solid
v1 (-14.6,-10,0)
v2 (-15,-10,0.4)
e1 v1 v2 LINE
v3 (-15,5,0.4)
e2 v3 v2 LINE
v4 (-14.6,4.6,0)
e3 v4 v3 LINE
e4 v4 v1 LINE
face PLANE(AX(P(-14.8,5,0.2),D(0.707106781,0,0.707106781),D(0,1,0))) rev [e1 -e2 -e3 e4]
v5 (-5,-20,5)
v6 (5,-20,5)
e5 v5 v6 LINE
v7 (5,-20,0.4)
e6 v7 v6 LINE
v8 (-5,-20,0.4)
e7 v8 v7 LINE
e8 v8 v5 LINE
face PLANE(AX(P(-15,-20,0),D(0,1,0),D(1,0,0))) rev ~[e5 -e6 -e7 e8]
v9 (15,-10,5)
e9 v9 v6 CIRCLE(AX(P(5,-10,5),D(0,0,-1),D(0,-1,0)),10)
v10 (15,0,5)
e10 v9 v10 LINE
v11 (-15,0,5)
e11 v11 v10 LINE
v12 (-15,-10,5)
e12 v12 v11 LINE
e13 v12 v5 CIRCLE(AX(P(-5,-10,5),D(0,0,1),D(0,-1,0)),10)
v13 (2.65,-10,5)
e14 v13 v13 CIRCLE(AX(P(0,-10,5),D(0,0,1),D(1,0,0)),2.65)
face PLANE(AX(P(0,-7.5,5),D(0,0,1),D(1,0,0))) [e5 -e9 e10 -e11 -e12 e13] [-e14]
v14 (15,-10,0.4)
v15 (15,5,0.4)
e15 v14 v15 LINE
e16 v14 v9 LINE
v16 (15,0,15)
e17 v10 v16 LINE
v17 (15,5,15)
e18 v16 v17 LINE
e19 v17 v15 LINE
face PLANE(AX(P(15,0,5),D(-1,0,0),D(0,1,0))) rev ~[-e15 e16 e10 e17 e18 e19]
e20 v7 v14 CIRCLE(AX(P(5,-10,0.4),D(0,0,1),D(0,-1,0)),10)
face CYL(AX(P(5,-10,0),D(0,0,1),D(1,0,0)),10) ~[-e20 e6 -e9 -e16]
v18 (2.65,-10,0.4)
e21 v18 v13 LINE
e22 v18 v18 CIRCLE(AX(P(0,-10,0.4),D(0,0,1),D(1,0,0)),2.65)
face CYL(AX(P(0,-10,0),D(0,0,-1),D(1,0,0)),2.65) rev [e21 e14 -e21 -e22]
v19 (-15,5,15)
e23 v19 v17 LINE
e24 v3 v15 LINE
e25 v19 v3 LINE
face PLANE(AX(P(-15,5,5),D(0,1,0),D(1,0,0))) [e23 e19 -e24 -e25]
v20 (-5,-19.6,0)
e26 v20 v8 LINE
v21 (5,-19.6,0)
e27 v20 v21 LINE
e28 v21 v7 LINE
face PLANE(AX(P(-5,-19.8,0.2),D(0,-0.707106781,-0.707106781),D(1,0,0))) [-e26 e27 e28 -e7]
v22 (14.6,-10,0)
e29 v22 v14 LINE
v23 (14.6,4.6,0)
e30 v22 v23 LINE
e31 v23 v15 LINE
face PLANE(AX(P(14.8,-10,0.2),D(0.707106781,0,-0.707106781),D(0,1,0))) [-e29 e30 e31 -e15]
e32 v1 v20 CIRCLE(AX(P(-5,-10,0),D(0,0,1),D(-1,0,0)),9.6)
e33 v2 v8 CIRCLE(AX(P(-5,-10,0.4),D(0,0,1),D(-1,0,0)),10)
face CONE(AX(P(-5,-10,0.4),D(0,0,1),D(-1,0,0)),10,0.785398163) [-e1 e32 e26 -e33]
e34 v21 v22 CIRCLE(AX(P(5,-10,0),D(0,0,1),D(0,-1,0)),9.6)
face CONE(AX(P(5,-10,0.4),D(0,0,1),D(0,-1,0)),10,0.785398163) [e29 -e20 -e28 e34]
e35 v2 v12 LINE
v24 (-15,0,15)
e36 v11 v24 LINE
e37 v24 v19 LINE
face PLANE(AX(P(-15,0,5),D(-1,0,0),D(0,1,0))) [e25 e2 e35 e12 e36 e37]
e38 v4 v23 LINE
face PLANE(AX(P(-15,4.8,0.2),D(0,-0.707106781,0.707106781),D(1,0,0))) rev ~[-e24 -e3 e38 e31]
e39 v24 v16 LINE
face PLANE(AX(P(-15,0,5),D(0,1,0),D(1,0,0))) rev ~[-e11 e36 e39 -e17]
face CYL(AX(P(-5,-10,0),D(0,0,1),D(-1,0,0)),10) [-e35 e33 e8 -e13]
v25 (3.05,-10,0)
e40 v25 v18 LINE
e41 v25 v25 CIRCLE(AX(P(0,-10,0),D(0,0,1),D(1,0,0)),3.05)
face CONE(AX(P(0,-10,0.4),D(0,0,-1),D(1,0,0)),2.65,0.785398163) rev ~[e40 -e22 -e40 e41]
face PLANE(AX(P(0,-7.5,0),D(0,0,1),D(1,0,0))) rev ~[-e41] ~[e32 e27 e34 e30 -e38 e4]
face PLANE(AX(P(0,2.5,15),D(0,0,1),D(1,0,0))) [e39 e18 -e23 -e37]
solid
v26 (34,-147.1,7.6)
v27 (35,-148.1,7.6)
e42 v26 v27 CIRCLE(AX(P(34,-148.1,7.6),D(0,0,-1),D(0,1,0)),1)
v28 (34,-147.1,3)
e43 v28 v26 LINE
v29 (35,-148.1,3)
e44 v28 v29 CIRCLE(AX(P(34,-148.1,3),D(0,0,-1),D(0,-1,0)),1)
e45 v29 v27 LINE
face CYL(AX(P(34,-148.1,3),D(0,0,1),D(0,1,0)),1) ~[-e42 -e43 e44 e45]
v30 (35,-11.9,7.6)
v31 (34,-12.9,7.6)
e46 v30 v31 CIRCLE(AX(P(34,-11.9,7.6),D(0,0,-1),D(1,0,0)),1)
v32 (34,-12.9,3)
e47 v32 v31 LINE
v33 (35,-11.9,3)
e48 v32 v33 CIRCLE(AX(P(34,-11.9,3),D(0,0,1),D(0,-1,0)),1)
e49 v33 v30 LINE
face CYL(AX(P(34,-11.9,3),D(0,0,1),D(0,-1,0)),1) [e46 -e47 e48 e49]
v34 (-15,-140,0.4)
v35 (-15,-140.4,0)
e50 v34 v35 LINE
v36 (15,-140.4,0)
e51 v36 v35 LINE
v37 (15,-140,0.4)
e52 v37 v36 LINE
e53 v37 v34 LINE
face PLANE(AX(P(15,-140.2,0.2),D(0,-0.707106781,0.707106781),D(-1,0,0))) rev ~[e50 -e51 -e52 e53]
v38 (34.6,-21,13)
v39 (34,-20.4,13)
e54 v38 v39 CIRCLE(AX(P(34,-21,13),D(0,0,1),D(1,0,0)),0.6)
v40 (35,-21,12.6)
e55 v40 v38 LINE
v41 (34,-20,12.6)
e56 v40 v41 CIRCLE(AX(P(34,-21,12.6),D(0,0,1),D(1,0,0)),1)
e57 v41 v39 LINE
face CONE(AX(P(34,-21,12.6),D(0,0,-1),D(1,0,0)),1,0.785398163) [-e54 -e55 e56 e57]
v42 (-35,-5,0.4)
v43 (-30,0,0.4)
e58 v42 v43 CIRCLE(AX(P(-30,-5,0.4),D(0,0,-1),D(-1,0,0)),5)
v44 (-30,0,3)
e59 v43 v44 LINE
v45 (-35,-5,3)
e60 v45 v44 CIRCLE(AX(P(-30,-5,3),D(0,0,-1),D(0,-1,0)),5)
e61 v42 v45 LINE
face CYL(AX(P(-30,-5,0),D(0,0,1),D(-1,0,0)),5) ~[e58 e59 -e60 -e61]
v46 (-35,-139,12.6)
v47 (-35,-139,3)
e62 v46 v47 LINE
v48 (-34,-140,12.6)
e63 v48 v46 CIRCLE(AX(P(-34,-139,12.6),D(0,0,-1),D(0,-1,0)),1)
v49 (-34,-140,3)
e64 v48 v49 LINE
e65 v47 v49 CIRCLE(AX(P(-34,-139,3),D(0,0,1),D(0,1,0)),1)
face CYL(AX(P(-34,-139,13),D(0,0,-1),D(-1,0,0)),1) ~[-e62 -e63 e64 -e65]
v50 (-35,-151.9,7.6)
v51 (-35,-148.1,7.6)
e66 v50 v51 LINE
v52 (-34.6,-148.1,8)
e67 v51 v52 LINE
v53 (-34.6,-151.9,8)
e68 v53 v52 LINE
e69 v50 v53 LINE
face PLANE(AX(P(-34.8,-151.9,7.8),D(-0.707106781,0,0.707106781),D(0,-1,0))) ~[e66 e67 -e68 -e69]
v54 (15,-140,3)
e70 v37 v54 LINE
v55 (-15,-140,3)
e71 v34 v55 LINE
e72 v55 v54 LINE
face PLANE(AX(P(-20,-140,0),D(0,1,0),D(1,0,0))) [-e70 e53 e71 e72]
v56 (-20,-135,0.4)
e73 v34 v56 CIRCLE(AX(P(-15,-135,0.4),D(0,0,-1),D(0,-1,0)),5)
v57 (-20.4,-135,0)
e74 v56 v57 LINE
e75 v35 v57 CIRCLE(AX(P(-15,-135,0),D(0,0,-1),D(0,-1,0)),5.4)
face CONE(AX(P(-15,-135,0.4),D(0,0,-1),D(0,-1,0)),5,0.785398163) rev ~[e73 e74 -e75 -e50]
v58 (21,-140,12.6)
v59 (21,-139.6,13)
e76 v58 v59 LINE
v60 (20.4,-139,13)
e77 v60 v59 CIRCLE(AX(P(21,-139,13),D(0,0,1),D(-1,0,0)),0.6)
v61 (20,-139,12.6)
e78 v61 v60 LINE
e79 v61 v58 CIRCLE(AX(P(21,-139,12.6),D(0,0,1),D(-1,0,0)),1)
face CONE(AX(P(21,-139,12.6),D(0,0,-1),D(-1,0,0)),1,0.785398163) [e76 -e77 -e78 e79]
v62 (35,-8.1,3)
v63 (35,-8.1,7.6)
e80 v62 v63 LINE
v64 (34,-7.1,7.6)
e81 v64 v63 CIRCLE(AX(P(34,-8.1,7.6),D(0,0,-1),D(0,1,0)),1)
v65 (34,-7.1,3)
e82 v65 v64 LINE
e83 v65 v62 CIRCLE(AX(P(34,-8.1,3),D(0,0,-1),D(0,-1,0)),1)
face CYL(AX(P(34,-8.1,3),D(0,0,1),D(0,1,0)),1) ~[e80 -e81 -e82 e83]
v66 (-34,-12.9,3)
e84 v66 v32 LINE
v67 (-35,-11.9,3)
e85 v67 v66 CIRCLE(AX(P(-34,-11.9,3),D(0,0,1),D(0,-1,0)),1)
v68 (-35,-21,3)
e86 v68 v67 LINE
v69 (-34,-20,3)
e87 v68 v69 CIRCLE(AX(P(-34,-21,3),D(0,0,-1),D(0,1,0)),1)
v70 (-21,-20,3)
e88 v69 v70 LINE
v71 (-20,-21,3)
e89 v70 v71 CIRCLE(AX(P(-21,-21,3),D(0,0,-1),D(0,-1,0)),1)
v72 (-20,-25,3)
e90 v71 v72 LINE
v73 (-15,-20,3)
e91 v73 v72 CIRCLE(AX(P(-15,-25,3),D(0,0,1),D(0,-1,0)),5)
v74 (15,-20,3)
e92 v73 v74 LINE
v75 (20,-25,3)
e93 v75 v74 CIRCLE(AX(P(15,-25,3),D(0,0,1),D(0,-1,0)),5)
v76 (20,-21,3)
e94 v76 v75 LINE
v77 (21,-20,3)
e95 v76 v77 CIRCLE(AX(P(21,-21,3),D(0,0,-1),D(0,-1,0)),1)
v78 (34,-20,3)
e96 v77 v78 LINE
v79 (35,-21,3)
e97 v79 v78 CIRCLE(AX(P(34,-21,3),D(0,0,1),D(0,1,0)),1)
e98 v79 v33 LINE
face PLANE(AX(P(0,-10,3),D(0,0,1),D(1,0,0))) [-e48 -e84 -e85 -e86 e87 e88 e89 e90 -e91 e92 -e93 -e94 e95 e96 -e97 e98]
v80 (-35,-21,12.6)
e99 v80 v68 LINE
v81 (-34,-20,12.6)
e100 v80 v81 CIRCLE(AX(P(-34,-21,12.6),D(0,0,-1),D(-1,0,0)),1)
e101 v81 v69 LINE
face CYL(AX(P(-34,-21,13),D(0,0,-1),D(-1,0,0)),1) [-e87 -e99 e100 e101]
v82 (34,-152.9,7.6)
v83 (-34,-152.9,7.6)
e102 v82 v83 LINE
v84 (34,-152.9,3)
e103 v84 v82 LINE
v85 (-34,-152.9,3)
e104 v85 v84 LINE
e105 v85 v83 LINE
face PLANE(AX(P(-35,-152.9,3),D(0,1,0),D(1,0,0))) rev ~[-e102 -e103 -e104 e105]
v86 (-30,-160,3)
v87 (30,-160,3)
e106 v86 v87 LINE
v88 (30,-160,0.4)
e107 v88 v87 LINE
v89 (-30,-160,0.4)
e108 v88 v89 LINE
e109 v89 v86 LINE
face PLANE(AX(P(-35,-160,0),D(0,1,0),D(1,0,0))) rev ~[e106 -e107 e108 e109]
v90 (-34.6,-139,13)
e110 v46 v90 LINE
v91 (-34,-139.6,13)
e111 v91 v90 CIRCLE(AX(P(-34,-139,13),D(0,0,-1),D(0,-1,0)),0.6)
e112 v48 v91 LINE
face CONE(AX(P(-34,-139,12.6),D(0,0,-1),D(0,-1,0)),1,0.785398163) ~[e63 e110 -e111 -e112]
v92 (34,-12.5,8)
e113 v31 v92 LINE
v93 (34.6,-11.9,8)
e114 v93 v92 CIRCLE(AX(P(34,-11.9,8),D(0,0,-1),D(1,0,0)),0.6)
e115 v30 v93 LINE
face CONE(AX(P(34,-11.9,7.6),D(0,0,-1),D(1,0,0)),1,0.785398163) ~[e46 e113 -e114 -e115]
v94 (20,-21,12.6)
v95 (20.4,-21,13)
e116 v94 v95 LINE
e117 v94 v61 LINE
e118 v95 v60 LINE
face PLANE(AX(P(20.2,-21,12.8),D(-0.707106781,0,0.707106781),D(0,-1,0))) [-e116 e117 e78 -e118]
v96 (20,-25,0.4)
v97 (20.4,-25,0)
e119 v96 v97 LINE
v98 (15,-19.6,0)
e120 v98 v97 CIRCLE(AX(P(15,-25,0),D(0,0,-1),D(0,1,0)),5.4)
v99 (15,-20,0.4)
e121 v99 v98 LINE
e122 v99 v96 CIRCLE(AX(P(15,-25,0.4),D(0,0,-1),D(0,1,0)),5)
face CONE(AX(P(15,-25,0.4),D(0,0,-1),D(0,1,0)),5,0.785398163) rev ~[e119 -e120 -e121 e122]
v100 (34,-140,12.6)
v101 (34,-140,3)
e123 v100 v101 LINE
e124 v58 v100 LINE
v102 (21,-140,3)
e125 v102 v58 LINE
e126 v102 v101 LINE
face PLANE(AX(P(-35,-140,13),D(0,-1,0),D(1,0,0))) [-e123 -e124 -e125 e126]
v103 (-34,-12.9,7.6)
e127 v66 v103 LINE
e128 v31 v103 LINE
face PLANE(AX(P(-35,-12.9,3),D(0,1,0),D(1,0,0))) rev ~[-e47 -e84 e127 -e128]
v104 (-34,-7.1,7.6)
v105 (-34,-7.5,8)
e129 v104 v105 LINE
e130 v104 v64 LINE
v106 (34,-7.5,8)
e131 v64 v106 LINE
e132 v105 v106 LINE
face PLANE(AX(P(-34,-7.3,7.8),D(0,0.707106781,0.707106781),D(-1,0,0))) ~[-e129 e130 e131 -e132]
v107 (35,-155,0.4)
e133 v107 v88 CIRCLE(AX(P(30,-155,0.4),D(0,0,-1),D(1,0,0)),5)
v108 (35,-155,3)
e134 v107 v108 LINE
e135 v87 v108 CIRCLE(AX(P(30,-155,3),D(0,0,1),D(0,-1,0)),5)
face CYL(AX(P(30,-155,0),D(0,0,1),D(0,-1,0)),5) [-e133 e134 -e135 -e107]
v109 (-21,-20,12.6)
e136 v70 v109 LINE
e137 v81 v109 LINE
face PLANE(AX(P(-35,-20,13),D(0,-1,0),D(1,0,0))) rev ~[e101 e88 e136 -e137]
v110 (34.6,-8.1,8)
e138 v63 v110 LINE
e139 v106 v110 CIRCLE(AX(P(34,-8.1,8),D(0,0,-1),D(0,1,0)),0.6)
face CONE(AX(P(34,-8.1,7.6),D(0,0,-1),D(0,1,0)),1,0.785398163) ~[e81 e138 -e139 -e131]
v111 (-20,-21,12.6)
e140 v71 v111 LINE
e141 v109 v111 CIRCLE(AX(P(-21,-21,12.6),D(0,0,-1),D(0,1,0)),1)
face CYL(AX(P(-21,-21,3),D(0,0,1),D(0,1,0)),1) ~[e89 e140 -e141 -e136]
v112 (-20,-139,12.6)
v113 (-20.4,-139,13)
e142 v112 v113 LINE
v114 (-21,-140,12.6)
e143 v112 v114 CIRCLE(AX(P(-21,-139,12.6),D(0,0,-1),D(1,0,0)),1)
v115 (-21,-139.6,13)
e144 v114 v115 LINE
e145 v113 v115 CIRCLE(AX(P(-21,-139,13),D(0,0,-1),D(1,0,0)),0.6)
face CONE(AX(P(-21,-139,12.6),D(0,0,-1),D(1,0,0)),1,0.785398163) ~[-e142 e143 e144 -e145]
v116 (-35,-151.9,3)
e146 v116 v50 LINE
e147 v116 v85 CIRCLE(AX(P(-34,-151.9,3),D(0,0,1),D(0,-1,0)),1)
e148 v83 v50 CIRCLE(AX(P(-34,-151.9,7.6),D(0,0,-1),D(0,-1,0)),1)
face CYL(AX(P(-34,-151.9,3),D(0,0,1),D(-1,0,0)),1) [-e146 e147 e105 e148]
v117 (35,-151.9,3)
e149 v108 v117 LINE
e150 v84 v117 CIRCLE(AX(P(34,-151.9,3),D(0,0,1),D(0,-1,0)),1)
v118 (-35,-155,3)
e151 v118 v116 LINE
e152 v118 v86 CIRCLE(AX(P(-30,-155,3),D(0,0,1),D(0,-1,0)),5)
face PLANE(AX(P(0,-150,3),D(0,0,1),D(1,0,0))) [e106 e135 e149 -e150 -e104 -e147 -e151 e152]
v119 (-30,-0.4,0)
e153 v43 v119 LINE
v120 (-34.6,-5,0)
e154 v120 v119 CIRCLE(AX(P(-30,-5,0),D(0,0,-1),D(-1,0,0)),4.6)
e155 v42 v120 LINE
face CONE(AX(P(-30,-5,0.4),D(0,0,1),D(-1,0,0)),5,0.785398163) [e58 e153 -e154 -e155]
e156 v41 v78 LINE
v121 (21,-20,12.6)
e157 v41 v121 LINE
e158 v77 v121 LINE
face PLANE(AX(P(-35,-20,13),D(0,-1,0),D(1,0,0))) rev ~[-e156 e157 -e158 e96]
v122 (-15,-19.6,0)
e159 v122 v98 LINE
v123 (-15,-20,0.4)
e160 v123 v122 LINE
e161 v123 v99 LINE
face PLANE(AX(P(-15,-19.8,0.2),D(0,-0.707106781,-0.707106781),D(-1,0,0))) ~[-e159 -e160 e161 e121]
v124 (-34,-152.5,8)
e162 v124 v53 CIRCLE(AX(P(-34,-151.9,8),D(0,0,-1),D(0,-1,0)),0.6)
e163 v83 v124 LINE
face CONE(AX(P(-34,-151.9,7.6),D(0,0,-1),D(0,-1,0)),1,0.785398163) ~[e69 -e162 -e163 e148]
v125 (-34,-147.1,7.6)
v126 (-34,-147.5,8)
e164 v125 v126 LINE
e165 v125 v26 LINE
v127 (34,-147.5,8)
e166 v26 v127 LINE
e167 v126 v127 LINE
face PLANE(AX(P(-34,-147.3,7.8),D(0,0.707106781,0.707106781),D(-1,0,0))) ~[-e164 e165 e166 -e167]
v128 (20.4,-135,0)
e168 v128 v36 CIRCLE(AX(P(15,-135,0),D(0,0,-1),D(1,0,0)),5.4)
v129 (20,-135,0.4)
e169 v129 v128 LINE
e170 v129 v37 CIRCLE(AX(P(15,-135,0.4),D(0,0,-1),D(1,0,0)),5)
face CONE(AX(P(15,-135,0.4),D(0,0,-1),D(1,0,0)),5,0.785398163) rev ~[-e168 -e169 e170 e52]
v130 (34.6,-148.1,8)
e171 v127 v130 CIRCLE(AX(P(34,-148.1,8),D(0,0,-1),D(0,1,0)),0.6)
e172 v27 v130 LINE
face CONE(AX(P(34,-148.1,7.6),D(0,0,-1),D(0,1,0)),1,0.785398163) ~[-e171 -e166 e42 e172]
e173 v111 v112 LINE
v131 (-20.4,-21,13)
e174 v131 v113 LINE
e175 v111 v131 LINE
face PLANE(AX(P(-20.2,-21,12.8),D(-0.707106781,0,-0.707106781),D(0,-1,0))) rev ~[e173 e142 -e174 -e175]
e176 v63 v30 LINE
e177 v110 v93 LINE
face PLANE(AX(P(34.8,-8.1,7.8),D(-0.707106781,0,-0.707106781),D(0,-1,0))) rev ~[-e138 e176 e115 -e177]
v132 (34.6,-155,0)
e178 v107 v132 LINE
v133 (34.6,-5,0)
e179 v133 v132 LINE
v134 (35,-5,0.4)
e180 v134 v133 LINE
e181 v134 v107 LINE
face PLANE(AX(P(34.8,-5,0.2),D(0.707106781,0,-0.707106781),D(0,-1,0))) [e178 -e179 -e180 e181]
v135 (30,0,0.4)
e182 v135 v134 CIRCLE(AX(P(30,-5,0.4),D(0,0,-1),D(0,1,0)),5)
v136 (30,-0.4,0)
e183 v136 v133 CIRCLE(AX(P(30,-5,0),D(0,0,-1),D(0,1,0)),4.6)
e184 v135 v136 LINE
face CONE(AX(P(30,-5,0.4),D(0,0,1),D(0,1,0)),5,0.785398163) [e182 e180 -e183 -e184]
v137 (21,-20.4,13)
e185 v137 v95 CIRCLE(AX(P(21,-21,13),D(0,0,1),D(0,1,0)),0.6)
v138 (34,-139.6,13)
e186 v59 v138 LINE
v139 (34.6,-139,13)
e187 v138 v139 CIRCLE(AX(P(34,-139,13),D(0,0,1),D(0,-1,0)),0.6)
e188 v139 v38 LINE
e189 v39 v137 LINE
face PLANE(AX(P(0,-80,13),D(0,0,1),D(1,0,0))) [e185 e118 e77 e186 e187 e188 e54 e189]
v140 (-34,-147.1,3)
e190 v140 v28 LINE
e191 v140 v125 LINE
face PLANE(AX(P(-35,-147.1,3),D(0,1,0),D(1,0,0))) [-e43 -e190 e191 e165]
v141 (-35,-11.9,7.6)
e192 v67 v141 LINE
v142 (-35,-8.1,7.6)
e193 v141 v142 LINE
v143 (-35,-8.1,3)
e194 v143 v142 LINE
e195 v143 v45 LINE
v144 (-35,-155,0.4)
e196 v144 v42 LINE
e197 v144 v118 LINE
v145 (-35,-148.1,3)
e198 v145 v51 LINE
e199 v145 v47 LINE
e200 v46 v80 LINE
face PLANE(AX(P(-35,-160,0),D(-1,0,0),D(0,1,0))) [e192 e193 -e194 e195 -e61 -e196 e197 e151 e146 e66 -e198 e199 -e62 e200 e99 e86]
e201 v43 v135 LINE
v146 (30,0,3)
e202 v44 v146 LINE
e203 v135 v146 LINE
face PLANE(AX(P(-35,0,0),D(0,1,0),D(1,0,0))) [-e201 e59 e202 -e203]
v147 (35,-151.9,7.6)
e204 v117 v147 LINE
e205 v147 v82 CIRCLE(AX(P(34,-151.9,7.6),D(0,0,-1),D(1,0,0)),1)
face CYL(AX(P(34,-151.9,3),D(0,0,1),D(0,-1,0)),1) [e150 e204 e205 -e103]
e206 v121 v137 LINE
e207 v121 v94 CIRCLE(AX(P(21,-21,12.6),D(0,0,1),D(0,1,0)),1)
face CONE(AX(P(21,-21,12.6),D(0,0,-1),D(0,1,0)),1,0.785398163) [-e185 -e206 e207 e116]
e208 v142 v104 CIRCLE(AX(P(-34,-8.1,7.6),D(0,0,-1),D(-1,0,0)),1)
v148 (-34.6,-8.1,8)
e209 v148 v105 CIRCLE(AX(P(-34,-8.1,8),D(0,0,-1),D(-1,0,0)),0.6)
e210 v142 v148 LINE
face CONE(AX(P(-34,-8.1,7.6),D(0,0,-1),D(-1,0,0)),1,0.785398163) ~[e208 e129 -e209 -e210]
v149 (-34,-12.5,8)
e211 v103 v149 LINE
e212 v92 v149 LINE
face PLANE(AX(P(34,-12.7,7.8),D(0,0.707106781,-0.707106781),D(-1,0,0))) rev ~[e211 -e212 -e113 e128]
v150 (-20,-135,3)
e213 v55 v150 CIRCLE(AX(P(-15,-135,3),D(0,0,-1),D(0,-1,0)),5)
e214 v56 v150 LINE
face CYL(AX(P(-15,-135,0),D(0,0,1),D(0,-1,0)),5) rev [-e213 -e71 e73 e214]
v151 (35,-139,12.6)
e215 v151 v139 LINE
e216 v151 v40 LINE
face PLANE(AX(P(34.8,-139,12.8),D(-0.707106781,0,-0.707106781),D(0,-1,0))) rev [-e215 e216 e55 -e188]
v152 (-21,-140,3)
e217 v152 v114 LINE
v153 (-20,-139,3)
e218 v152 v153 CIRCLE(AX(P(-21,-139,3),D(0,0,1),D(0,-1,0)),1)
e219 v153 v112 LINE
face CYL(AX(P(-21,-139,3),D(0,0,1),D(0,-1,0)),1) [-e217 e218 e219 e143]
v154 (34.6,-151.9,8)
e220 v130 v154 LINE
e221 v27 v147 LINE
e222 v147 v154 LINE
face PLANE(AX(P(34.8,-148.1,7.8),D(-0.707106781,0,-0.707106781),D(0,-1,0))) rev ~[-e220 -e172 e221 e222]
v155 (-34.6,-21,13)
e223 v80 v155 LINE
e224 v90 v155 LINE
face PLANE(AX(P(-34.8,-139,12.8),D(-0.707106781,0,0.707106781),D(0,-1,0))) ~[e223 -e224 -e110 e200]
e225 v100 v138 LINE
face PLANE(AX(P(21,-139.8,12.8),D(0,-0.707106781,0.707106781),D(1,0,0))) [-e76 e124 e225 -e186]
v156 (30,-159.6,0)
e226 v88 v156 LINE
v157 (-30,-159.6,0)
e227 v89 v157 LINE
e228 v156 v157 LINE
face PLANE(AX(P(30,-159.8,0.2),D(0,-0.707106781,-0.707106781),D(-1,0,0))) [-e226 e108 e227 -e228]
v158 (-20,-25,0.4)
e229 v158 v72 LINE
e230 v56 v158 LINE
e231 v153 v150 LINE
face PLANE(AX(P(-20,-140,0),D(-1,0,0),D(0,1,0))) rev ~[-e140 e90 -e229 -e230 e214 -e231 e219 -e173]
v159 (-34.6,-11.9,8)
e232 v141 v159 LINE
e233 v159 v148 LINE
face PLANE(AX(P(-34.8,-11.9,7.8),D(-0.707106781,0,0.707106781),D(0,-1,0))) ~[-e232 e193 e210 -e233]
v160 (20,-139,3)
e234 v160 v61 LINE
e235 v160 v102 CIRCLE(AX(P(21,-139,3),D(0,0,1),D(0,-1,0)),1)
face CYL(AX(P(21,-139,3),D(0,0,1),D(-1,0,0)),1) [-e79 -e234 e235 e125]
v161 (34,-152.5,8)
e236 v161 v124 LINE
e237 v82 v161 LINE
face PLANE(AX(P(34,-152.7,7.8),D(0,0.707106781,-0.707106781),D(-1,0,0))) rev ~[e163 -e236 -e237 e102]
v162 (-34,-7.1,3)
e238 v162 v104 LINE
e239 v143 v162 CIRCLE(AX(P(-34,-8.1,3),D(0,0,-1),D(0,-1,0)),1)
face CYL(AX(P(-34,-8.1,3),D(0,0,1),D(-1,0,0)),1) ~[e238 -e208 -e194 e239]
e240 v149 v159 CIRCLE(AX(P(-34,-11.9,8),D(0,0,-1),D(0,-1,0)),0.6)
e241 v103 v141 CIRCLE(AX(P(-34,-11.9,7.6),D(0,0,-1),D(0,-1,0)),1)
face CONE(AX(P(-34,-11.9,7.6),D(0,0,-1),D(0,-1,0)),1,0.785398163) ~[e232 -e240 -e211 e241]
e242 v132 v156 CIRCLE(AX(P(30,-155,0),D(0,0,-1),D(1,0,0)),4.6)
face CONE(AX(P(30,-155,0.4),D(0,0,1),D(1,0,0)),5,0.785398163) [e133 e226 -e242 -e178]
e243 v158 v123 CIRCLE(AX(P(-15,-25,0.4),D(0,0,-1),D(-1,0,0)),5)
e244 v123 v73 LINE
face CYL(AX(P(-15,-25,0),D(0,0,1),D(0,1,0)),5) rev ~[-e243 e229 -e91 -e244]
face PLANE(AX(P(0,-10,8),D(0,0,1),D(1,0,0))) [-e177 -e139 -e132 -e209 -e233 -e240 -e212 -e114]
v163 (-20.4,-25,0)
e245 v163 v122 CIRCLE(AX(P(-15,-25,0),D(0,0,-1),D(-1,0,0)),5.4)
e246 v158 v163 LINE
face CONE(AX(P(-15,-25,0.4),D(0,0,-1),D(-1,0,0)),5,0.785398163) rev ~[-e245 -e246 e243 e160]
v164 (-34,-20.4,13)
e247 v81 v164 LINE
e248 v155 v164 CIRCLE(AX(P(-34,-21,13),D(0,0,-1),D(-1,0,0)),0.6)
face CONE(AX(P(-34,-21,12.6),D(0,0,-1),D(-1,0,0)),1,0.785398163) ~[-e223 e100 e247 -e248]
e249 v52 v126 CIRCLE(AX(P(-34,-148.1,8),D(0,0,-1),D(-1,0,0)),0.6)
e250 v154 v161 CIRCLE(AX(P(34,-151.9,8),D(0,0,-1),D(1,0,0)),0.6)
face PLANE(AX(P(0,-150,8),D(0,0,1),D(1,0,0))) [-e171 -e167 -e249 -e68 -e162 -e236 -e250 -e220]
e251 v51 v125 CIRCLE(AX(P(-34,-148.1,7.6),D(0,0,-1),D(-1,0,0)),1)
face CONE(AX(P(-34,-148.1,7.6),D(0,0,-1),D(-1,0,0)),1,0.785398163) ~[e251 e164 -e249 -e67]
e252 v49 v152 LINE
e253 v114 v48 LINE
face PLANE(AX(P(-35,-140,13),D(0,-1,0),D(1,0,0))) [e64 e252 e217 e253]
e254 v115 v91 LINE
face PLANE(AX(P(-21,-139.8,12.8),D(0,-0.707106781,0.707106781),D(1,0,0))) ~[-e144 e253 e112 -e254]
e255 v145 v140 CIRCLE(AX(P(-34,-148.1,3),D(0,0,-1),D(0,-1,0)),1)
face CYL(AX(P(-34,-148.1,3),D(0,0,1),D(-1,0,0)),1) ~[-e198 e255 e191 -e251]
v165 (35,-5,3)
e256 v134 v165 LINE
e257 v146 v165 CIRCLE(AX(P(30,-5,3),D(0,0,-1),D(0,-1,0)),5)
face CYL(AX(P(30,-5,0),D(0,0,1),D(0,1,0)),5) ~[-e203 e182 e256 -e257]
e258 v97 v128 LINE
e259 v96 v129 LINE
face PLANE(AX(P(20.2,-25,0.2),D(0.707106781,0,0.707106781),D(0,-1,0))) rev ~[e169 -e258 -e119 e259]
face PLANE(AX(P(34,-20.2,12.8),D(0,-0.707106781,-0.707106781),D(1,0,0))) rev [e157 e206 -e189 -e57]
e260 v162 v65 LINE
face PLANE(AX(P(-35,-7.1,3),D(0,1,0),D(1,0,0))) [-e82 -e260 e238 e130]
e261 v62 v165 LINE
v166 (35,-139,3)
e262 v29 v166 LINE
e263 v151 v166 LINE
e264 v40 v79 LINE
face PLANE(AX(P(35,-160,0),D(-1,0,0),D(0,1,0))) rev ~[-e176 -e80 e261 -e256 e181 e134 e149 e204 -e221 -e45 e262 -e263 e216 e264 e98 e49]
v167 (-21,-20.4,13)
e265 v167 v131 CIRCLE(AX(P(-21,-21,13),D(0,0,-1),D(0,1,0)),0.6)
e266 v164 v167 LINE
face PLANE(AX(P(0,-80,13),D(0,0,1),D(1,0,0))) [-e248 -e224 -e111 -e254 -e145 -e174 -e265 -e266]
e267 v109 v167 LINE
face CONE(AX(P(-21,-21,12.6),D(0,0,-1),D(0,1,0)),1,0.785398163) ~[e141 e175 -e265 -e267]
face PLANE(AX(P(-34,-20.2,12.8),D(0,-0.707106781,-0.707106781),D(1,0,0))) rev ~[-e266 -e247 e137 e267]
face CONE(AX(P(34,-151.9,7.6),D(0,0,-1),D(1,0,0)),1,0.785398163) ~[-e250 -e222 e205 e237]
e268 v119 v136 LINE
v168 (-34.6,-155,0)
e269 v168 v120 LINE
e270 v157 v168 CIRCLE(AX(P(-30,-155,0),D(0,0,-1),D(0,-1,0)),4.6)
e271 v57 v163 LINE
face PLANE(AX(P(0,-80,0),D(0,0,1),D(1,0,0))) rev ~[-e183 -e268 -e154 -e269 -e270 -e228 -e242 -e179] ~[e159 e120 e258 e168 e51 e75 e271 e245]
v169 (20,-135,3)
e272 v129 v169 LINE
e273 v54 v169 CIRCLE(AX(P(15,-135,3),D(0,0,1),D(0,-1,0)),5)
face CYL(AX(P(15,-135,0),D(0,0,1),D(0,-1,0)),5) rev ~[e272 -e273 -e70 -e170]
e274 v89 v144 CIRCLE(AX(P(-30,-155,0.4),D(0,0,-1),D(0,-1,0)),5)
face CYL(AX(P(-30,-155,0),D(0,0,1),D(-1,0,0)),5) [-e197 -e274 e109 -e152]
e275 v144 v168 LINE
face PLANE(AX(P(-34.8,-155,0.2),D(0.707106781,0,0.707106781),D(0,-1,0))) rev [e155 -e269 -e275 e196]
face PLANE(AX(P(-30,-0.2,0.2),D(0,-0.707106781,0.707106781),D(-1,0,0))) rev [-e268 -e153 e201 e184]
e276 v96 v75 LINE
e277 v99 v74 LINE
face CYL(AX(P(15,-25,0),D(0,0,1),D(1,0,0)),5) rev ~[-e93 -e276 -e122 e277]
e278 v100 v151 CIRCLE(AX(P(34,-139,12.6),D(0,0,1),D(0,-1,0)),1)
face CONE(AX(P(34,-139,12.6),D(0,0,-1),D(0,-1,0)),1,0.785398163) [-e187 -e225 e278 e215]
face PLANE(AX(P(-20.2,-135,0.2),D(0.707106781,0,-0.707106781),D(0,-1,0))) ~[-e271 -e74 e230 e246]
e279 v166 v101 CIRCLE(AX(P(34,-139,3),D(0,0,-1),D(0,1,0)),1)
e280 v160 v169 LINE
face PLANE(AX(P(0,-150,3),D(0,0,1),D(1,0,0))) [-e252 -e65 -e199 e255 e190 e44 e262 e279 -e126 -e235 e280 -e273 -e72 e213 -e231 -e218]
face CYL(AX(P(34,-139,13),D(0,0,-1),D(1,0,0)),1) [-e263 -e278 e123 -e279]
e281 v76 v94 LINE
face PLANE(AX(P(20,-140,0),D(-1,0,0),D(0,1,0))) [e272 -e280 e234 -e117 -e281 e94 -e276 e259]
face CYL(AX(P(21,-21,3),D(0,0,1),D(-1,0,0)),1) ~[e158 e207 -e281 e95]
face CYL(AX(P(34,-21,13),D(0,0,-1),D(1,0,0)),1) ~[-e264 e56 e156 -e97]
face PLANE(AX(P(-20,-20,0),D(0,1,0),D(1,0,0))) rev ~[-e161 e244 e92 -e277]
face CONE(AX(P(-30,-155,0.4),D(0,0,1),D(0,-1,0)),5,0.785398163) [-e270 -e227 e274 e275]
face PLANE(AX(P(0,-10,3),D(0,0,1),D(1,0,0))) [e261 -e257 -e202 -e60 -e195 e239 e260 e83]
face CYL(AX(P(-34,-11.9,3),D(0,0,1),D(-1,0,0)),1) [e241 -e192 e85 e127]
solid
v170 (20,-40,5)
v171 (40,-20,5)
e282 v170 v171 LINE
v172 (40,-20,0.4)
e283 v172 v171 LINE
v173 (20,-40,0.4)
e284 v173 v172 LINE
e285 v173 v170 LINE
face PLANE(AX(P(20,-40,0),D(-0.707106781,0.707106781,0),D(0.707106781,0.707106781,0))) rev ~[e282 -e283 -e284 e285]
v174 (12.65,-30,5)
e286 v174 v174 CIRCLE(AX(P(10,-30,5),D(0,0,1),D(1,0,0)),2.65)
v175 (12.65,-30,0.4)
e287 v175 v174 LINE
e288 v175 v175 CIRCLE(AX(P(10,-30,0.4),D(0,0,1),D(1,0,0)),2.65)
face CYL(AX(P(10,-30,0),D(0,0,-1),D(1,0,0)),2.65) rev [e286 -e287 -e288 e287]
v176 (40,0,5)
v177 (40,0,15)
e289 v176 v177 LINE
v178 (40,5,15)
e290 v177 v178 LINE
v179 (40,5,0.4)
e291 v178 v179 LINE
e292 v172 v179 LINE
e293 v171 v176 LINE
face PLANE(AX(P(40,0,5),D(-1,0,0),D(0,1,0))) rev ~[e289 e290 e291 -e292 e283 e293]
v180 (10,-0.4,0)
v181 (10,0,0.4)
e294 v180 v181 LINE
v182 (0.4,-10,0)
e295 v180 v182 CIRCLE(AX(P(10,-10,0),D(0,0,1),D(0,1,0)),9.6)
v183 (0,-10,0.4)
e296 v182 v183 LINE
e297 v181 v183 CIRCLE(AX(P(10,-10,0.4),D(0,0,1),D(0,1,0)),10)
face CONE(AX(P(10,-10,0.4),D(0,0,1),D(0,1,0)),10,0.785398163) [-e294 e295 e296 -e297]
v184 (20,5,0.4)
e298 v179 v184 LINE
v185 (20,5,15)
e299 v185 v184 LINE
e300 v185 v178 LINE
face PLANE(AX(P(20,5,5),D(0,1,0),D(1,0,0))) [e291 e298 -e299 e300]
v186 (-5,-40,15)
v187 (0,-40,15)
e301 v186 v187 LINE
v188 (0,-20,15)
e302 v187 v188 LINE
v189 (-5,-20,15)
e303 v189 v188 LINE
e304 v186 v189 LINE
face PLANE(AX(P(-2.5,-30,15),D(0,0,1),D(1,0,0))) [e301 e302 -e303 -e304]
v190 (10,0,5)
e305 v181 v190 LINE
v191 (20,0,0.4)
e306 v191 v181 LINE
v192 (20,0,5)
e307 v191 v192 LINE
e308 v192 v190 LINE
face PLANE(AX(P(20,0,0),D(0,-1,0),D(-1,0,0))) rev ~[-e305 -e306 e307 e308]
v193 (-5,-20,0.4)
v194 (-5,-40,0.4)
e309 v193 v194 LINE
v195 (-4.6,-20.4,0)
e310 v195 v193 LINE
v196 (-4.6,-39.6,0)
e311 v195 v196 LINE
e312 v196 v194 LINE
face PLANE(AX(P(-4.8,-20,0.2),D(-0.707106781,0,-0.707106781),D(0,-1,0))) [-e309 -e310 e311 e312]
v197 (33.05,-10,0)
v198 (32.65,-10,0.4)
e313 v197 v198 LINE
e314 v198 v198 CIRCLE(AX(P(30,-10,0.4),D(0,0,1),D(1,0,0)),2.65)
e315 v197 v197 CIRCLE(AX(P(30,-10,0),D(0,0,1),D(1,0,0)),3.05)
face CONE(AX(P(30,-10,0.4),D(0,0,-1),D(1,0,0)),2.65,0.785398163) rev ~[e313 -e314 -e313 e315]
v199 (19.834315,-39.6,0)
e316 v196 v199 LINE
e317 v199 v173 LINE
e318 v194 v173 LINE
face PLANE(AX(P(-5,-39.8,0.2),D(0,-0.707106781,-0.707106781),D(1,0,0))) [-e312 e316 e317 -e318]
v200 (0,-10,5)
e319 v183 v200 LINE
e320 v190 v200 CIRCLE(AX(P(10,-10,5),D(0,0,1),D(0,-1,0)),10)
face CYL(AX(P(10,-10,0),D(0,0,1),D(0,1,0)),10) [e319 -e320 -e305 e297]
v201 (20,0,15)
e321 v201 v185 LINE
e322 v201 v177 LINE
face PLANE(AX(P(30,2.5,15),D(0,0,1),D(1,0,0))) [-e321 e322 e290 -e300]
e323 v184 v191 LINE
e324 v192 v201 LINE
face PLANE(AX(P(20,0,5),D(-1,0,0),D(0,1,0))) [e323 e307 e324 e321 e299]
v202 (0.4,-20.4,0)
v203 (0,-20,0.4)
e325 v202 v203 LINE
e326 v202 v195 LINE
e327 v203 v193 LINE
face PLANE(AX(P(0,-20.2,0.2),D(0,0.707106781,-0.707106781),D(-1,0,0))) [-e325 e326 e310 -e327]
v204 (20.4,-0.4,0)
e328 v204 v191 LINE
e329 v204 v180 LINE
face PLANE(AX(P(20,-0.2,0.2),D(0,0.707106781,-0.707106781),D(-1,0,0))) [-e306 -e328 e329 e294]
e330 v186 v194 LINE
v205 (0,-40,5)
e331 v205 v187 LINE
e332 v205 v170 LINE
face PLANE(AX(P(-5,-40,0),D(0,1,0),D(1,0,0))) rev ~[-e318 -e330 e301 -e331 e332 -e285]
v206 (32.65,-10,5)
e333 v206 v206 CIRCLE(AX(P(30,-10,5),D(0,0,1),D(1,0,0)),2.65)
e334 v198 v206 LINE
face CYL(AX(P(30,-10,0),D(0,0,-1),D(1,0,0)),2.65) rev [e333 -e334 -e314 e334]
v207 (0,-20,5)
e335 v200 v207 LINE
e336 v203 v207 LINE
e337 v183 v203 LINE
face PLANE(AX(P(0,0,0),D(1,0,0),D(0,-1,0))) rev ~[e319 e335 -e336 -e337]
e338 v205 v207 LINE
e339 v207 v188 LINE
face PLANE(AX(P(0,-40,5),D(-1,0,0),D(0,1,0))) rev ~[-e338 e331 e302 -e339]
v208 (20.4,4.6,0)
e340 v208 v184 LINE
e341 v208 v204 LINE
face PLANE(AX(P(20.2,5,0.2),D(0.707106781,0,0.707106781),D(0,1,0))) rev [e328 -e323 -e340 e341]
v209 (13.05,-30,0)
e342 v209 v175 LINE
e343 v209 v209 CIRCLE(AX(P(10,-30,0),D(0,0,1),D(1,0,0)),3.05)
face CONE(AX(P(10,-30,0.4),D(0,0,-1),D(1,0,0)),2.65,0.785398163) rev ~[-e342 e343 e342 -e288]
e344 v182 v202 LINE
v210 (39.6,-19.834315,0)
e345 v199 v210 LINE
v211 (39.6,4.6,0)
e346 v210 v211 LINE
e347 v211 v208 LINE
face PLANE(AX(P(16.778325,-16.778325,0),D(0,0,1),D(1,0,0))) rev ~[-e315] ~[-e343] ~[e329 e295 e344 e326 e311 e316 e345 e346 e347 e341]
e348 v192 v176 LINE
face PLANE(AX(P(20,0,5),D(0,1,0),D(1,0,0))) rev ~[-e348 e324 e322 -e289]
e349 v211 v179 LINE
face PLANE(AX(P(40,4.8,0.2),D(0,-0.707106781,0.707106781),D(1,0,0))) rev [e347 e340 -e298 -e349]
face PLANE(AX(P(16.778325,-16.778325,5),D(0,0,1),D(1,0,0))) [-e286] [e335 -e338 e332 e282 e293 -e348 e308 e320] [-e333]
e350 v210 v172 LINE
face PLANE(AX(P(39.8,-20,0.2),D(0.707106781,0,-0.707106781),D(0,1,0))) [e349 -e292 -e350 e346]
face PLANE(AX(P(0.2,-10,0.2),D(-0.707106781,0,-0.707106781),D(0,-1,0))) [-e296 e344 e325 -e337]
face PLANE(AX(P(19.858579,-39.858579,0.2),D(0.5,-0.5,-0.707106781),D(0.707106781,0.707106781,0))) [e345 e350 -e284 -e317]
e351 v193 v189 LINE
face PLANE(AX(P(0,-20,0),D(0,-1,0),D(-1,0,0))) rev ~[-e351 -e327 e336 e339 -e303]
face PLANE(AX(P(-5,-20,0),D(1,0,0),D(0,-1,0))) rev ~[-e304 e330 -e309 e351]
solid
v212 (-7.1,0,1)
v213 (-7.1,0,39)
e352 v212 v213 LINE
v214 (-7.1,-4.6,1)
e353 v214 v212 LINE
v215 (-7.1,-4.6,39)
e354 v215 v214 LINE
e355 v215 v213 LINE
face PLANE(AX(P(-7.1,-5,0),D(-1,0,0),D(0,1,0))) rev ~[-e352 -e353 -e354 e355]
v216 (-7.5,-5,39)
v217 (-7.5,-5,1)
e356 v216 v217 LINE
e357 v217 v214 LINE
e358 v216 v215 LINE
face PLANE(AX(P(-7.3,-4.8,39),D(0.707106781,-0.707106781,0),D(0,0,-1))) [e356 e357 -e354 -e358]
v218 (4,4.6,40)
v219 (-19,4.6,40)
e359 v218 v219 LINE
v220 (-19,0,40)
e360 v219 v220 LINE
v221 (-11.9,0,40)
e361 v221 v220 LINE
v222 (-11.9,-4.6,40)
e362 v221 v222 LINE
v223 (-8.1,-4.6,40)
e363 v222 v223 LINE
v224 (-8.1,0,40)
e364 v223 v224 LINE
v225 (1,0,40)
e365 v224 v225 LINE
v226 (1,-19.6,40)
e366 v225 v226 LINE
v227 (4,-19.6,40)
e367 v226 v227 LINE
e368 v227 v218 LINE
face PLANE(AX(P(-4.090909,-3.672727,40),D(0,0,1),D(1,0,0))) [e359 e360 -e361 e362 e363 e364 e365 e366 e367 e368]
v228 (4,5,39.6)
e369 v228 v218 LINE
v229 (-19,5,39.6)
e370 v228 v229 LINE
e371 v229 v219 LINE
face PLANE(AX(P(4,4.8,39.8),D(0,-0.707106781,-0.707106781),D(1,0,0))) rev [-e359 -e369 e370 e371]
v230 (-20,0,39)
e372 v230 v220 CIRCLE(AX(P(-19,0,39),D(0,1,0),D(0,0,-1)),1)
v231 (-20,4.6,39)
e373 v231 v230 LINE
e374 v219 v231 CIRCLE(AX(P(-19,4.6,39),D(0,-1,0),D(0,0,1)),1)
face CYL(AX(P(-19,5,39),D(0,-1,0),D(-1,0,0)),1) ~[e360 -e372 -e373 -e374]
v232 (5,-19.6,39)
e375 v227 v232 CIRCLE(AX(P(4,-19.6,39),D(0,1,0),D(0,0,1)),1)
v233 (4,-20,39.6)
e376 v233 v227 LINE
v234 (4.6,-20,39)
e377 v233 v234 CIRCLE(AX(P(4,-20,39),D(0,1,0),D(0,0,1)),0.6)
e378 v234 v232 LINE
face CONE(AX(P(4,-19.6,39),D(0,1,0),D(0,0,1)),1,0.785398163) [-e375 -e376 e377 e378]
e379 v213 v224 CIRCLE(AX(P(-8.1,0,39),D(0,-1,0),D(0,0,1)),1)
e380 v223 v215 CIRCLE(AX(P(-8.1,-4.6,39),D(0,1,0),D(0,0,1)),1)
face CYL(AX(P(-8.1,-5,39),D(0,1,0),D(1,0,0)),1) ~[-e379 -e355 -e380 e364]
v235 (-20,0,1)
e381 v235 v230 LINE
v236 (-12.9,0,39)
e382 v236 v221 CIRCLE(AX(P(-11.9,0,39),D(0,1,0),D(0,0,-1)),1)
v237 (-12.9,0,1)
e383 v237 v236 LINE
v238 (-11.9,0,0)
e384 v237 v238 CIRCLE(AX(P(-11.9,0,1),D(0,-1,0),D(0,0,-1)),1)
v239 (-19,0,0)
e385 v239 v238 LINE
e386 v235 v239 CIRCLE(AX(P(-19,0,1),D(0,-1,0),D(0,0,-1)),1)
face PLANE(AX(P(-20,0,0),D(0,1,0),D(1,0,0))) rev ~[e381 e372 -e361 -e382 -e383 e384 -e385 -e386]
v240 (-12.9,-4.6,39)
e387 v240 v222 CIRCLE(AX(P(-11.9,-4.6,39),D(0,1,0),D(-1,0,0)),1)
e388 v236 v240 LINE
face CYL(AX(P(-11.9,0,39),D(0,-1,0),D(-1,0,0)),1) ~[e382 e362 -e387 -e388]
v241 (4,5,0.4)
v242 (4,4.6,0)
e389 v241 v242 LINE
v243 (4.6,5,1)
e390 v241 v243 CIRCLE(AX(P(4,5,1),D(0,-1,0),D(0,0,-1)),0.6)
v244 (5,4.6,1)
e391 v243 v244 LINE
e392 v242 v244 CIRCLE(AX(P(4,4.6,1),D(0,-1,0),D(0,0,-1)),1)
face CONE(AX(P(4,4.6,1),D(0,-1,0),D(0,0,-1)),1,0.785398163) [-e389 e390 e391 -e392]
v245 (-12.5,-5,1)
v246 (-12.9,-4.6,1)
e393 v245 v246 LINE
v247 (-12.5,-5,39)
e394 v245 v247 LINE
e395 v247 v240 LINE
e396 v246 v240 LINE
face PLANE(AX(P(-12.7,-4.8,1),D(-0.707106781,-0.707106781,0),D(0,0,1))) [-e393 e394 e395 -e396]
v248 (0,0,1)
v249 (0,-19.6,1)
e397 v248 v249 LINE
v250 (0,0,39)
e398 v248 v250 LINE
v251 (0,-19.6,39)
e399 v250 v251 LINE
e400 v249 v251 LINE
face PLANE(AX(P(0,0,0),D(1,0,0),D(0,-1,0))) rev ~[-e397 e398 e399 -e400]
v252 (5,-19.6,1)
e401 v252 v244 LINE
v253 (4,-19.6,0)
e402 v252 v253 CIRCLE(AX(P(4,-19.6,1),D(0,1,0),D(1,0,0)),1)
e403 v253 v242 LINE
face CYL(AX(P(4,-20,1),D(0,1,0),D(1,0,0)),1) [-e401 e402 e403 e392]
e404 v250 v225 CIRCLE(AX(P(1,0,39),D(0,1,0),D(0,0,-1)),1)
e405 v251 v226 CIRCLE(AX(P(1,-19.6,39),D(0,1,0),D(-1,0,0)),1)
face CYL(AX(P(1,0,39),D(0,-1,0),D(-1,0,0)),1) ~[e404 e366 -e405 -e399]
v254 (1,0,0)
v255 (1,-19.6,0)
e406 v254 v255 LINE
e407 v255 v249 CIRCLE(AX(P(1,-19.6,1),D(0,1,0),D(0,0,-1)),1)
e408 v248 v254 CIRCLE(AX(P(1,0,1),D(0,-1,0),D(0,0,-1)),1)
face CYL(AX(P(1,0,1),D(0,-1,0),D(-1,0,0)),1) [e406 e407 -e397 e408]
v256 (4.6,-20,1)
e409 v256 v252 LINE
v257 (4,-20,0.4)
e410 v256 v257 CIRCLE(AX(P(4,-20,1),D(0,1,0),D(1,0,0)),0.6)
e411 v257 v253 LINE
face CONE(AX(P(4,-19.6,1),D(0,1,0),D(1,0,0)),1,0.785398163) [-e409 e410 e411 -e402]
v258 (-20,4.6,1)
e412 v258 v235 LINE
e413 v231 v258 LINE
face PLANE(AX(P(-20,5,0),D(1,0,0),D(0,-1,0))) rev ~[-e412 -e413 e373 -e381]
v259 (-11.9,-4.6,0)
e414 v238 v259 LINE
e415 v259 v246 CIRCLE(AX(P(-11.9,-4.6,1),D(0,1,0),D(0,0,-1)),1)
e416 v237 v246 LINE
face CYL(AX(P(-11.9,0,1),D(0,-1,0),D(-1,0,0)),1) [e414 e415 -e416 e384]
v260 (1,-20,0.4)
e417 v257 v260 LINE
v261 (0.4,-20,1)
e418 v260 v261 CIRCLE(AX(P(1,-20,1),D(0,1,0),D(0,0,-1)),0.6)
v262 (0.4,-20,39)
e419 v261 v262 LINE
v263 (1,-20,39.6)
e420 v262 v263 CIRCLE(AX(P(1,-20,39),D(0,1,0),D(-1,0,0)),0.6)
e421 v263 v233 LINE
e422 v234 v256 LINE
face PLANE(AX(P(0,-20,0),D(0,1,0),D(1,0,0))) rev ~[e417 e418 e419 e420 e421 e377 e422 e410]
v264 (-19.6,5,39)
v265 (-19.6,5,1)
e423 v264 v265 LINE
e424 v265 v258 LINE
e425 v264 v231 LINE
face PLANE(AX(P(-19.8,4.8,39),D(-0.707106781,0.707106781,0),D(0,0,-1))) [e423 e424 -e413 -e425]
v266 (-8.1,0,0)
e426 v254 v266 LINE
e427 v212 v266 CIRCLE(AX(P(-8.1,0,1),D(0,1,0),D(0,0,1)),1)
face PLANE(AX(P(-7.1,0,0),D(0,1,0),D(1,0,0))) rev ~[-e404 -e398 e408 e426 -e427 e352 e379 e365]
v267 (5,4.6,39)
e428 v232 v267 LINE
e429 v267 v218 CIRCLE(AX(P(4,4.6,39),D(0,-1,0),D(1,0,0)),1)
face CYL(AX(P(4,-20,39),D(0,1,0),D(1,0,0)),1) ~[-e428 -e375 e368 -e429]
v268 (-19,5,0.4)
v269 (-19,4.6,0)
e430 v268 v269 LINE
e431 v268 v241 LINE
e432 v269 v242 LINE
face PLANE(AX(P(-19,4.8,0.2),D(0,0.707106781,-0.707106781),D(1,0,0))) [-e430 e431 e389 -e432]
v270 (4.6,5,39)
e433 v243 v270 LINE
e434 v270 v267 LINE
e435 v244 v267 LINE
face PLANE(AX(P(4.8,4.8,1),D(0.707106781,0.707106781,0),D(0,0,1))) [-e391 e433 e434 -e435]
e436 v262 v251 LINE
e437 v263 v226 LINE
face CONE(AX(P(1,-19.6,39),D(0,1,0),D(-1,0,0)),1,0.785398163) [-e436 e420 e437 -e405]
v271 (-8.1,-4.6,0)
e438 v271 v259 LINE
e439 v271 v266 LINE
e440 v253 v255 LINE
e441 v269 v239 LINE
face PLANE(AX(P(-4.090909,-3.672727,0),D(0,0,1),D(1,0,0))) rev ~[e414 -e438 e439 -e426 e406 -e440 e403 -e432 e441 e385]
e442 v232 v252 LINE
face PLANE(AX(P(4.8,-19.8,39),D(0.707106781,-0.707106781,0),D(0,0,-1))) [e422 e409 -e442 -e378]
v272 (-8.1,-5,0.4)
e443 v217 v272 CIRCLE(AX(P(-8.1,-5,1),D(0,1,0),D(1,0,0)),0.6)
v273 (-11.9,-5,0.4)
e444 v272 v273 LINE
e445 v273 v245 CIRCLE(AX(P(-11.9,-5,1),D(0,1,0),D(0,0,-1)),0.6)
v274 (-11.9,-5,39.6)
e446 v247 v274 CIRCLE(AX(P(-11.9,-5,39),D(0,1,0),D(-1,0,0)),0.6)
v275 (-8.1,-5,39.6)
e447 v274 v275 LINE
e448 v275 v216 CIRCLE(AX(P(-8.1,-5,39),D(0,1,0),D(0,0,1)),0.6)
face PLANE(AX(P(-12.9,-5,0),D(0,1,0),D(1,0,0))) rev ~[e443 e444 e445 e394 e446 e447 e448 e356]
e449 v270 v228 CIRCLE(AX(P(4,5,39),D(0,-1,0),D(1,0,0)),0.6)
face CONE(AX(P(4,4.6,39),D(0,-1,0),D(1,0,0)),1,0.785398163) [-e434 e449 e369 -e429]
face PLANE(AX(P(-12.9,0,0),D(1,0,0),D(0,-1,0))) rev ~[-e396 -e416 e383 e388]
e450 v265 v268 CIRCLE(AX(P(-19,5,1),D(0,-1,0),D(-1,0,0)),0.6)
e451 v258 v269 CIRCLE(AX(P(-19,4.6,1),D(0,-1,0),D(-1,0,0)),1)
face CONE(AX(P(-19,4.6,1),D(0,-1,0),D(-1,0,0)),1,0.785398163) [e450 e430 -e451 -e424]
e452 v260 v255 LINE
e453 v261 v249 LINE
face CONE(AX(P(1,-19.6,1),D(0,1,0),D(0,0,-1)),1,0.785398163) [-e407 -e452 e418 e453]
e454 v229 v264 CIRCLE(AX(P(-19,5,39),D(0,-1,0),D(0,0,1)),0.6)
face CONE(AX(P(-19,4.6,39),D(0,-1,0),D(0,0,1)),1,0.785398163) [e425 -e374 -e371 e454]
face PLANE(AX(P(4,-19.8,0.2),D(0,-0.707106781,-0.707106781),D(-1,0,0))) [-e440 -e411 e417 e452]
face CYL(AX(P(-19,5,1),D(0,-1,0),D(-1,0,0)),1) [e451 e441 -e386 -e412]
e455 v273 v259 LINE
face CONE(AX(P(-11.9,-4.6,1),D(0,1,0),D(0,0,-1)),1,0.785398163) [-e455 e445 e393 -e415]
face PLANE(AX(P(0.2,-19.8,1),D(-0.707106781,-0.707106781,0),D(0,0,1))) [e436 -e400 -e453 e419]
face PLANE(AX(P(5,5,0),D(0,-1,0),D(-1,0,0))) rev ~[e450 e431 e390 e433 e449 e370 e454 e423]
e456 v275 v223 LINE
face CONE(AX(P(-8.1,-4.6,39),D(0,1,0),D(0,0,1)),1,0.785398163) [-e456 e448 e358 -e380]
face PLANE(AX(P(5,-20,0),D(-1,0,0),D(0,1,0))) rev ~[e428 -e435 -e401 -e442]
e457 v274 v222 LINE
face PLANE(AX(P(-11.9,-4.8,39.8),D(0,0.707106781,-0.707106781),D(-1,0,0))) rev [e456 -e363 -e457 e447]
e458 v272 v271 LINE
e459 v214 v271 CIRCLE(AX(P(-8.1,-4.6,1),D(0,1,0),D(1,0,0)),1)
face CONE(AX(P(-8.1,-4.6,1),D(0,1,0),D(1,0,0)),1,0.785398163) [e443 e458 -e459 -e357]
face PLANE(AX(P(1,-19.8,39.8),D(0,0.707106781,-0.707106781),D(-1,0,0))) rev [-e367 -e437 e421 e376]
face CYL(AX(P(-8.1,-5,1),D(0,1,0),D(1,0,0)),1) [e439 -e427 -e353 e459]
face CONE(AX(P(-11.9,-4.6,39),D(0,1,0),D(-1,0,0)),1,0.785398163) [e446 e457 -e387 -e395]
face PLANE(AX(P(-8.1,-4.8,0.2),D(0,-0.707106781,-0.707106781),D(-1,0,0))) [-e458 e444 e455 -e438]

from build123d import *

# Parameters (mm, degrees)
SKETCH_R        = 2.65
PAD_DEPTH       = 5
SKETCH001_W     = 20
SKETCH001_H     = 5
SKETCH001_W_2   = 5
SKETCH001_H_2   = 20
PAD001_DEPTH    = 10
FILLET_R        = 10
CHAMFER_SIZE    = 0.4
SKETCH002_W     = 30
SKETCH002_H     = 25
SKETCH002_R     = 2.65
PAD002_DEPTH    = 5
SKETCH003_W     = 30
SKETCH003_H     = 5
PAD003_DEPTH    = 10
FILLET001_R     = 10
CHAMFER001_SIZE = 0.4
SKETCH004_W     = 70
SKETCH004_H     = 160
SKETCH004_W_2   = 40
SKETCH004_H_2   = 120
PAD004_DEPTH    = 13
SKETCH005_W     = 70
SKETCH005_H     = 20
POCKET_DEPTH    = 10
SKETCH006_W     = 70
SKETCH006_H     = 5.8
PAD005_DEPTH    = 5
FILLET002_R     = 5
FILLET003_R     = 1
CHAMFER002_SIZE = 0.4
PAD006_DEPTH    = 40
FILLET004_R     = 1
CHAMFER003_SIZE = 0.4


with BuildPart() as corner_drill_jig:
    # Sketch → Pad (new body)
    with BuildSketch(Plane.XY):
        Polygon((0, 0), (0, -20), (-5, -20), (-5, -40), (20, -40), (40, -20), (40, 5), (20, 5), (20, 0), align=None)
        with Locations((30, -10)):
            Circle(SKETCH_R, mode=Mode.SUBTRACT)
        with Locations((10, -30)):
            Circle(SKETCH_R, mode=Mode.SUBTRACT)
    extrude(amount=PAD_DEPTH)

    # Sketch001 (on Face13 of Pad) → Pad001 (join)
    with BuildSketch(Plane.XY.offset(5)):
        with Locations((30, 2.5)):
            Rectangle(SKETCH001_W, SKETCH001_H)
        with Locations((-2.5, -30)):
            Rectangle(SKETCH001_W_2, SKETCH001_H_2)
    extrude(amount=PAD001_DEPTH)

    # Fillet
    fillet_edges = [corner_drill_jig.edges().sort_by_distance(p)[0] for p in [
        (0, 0, 2.5),
    ]]
    fillet(fillet_edges, radius=FILLET_R)

    # Chamfer
    chamfer_edges = [corner_drill_jig.edges().sort_by_distance(p)[0] for p in [
        (0, -15, 0),
        (2.928932, -2.928932, 0),
        (-2.5, -20, 0),
        (15, 0, 0),
        (-5, -30, 0),
        (20, 2.5, 0),
        (7.5, -40, 0),
        (30, 5, 0),
        (30, -30, 0),
        (40, -7.5, 0),
        (7.35, -30, 0),
        (27.35, -10, 0),
    ]]
    chamfer(chamfer_edges, length=CHAMFER_SIZE)


with BuildPart() as edge_drill_jig:
    # Sketch002 → Pad002 (new body)
    with BuildSketch(Plane.XY):
        with Locations((0, -7.5)):
            Rectangle(SKETCH002_W, SKETCH002_H)
        with Locations((0, -10)):
            Circle(SKETCH002_R, mode=Mode.SUBTRACT)
    extrude(amount=PAD002_DEPTH)

    # Sketch003 (on Face7 of Pad002) → Pad003 (join)
    with BuildSketch(Plane.XY.offset(5)):
        with Locations((0, 2.5)):
            Rectangle(SKETCH003_W, SKETCH003_H)
    extrude(amount=PAD003_DEPTH)

    # Fillet001
    fillet001_edges = [edge_drill_jig.edges().sort_by_distance(p)[0] for p in [
        (-15, -20, 2.5),
        (15, -20, 2.5),
    ]]
    fillet(fillet001_edges, radius=FILLET001_R)

    # Chamfer001
    chamfer001_edges = [edge_drill_jig.edges().sort_by_distance(p)[0] for p in [
        (15, -2.5, 0),
        (12.071068, -17.071068, 0),
        (0, 5, 0),
        (0, -20, 0),
        (-15, -2.5, 0),
        (-12.071068, -17.071068, 0),
        (-2.65, -10, 0),
    ]]
    chamfer(chamfer001_edges, length=CHAMFER001_SIZE)


with BuildPart() as f_120mm_spacer:
    # Sketch004 → Pad004 (new body)
    with BuildSketch(Plane.XY):
        with Locations((0, -80)):
            Rectangle(SKETCH004_W, SKETCH004_H)
        with Locations((0, -80)):
            Rectangle(SKETCH004_W_2, SKETCH004_H_2, mode=Mode.SUBTRACT)
    extrude(amount=PAD004_DEPTH)

    # Sketch005 (on Face10 of Pad004) → Pocket (cut)
    with BuildSketch(Plane.XY.offset(13)):
        with Locations((0, -10)):
            Rectangle(SKETCH005_W, SKETCH005_H)
        with Locations((0, -150)):
            Rectangle(SKETCH005_W, SKETCH005_H)
    extrude(amount=-POCKET_DEPTH, mode=Mode.SUBTRACT)

    # Sketch006 (on Face11 of Pocket) → Pad005 (join)
    with BuildSketch(Plane.XY.offset(3)):
        with Locations((0, -10)):
            Rectangle(SKETCH006_W, SKETCH006_H)
        with Locations((0, -150)):
            Rectangle(SKETCH006_W, SKETCH006_H)
    extrude(amount=PAD005_DEPTH)

    # Fillet002
    fillet002_edges = [f_120mm_spacer.edges().sort_by_distance(p)[0] for p in [
        (-35, -160, 1.5),
        (35, -160, 1.5),
        (-35, 0, 1.5),
        (35, 0, 1.5),
        (-20, -140, 1.5),
        (20, -140, 1.5),
        (20, -20, 1.5),
        (-20, -20, 1.5),
    ]]
    fillet(fillet002_edges, radius=FILLET002_R)

    # Fillet003
    fillet003_edges = [f_120mm_spacer.edges().sort_by_distance(p)[0] for p in [
        (-35, -7.1, 5.5),
        (-35, -12.9, 5.5),
        (35, -20, 8),
        (20, -20, 8),
        (-20, -20, 8),
        (-35, -20, 8),
        (35, -12.9, 5.5),
        (35, -7.1, 5.5),
        (-35, -140, 8),
        (-20, -140, 8),
        (20, -140, 8),
        (35, -140, 8),
        (35, -152.9, 5.5),
        (35, -147.1, 5.5),
        (-35, -147.1, 5.5),
        (-35, -152.9, 5.5),
    ]]
    fillet(fillet003_edges, radius=FILLET003_R)

    # Chamfer002
    chamfer002_edges = [f_120mm_spacer.edges().sort_by_distance(p)[0] for p in [
        (35, -80, 13),
        (34.707107, -20.292893, 13),
        (34.707107, -139.707107, 13),
        (27.5, -20, 13),
        (27.5, -140, 13),
        (20.292893, -20.292893, 13),
        (20.292893, -139.707107, 13),
        (20, -80, 13),
        (-27.5, -20, 13),
        (-20.292893, -20.292893, 13),
        (-34.707107, -20.292893, 13),
        (-20, -80, 13),
        (-35, -80, 13),
        (-20.292893, -139.707107, 13),
        (-34.707107, -139.707107, 13),
        (-27.5, -140, 13),
        (0, -7.1, 8),
        (-34.707107, -7.392893, 8),
        (34.707107, -7.392893, 8),
        (-35, -10, 8),
        (35, -10, 8),
        (-34.707107, -12.607107, 8),
        (34.707107, -12.607107, 8),
        (0, -12.9, 8),
        (0, -147.1, 8),
        (-34.707107, -147.392893, 8),
        (34.707107, -147.392893, 8),
        (-35, -150, 8),
        (35, -150, 8),
        (-34.707107, -152.607107, 8),
        (34.707107, -152.607107, 8),
        (0, -152.9, 8),
        (0, 0, 0),
        (-33.535534, -1.464466, 0),
        (33.535534, -1.464466, 0),
        (-35, -80, 0),
        (35, -80, 0),
        (-33.535534, -158.535534, 0),
        (33.535534, -158.535534, 0),
        (0, -160, 0),
        (0, -20, 0),
        (-18.535534, -21.464466, 0),
        (18.535534, -21.464466, 0),
        (-20, -80, 0),
        (20, -80, 0),
        (-18.535534, -138.535534, 0),
        (18.535534, -138.535534, 0),
        (0, -140, 0),
    ]]
    chamfer(chamfer002_edges, length=CHAMFER002_SIZE)


with BuildPart() as f_40mm_corner_spacer:
    # Sketch007 → Pad006 (new body)
    with BuildSketch(Plane.XY):
        Polygon((-20, 0), (-12.9, 0), (-12.9, -5), (-7.1, -5), (-7.1, 0), (0, 0), (0, -20), (5, -20), (5, 5), (-20, 5), align=None)
    extrude(amount=PAD006_DEPTH)

    # Fillet004
    fillet004_edges = [f_40mm_corner_spacer.edges().sort_by_distance(p)[0] for p in [
        (-20, 2.5, 40),
        (-20, 2.5, 0),
        (-12.9, -2.5, 40),
        (-12.9, -2.5, 0),
        (-7.1, -2.5, 0),
        (0, -10, 0),
        (5, -7.5, 0),
        (5, -7.5, 40),
        (0, -10, 40),
        (-7.1, -2.5, 40),
    ]]
    fillet(fillet004_edges, radius=FILLET004_R)

    # Chamfer003
    chamfer003_edges = [f_40mm_corner_spacer.edges().sort_by_distance(p)[0] for p in [
        (0, -20, 20),
        (0.292893, -20, 0.292893),
        (0.292893, -20, 39.707107),
        (2.5, -20, 0),
        (2.5, -20, 40),
        (4.707107, -20, 0.292893),
        (4.707107, -20, 39.707107),
        (5, -20, 20),
        (-12.9, -5, 20),
        (-12.607107, -5, 0.292893),
        (-12.607107, -5, 39.707107),
        (-10, -5, 0),
        (-10, -5, 40),
        (-7.392893, -5, 0.292893),
        (-7.392893, -5, 39.707107),
        (-7.1, -5, 20),
        (5, 5, 20),
        (4.707107, 5, 0.292893),
        (4.707107, 5, 39.707107),
        (-7.5, 5, 0),
        (-7.5, 5, 40),
        (-19.707107, 5, 0.292893),
        (-19.707107, 5, 39.707107),
        (-20, 5, 20),
    ]]
    chamfer(chamfer003_edges, length=CHAMFER003_SIZE)


solid = Compound([corner_drill_jig.part, edge_drill_jig.part, f_120mm_spacer.part, f_40mm_corner_spacer.part])
